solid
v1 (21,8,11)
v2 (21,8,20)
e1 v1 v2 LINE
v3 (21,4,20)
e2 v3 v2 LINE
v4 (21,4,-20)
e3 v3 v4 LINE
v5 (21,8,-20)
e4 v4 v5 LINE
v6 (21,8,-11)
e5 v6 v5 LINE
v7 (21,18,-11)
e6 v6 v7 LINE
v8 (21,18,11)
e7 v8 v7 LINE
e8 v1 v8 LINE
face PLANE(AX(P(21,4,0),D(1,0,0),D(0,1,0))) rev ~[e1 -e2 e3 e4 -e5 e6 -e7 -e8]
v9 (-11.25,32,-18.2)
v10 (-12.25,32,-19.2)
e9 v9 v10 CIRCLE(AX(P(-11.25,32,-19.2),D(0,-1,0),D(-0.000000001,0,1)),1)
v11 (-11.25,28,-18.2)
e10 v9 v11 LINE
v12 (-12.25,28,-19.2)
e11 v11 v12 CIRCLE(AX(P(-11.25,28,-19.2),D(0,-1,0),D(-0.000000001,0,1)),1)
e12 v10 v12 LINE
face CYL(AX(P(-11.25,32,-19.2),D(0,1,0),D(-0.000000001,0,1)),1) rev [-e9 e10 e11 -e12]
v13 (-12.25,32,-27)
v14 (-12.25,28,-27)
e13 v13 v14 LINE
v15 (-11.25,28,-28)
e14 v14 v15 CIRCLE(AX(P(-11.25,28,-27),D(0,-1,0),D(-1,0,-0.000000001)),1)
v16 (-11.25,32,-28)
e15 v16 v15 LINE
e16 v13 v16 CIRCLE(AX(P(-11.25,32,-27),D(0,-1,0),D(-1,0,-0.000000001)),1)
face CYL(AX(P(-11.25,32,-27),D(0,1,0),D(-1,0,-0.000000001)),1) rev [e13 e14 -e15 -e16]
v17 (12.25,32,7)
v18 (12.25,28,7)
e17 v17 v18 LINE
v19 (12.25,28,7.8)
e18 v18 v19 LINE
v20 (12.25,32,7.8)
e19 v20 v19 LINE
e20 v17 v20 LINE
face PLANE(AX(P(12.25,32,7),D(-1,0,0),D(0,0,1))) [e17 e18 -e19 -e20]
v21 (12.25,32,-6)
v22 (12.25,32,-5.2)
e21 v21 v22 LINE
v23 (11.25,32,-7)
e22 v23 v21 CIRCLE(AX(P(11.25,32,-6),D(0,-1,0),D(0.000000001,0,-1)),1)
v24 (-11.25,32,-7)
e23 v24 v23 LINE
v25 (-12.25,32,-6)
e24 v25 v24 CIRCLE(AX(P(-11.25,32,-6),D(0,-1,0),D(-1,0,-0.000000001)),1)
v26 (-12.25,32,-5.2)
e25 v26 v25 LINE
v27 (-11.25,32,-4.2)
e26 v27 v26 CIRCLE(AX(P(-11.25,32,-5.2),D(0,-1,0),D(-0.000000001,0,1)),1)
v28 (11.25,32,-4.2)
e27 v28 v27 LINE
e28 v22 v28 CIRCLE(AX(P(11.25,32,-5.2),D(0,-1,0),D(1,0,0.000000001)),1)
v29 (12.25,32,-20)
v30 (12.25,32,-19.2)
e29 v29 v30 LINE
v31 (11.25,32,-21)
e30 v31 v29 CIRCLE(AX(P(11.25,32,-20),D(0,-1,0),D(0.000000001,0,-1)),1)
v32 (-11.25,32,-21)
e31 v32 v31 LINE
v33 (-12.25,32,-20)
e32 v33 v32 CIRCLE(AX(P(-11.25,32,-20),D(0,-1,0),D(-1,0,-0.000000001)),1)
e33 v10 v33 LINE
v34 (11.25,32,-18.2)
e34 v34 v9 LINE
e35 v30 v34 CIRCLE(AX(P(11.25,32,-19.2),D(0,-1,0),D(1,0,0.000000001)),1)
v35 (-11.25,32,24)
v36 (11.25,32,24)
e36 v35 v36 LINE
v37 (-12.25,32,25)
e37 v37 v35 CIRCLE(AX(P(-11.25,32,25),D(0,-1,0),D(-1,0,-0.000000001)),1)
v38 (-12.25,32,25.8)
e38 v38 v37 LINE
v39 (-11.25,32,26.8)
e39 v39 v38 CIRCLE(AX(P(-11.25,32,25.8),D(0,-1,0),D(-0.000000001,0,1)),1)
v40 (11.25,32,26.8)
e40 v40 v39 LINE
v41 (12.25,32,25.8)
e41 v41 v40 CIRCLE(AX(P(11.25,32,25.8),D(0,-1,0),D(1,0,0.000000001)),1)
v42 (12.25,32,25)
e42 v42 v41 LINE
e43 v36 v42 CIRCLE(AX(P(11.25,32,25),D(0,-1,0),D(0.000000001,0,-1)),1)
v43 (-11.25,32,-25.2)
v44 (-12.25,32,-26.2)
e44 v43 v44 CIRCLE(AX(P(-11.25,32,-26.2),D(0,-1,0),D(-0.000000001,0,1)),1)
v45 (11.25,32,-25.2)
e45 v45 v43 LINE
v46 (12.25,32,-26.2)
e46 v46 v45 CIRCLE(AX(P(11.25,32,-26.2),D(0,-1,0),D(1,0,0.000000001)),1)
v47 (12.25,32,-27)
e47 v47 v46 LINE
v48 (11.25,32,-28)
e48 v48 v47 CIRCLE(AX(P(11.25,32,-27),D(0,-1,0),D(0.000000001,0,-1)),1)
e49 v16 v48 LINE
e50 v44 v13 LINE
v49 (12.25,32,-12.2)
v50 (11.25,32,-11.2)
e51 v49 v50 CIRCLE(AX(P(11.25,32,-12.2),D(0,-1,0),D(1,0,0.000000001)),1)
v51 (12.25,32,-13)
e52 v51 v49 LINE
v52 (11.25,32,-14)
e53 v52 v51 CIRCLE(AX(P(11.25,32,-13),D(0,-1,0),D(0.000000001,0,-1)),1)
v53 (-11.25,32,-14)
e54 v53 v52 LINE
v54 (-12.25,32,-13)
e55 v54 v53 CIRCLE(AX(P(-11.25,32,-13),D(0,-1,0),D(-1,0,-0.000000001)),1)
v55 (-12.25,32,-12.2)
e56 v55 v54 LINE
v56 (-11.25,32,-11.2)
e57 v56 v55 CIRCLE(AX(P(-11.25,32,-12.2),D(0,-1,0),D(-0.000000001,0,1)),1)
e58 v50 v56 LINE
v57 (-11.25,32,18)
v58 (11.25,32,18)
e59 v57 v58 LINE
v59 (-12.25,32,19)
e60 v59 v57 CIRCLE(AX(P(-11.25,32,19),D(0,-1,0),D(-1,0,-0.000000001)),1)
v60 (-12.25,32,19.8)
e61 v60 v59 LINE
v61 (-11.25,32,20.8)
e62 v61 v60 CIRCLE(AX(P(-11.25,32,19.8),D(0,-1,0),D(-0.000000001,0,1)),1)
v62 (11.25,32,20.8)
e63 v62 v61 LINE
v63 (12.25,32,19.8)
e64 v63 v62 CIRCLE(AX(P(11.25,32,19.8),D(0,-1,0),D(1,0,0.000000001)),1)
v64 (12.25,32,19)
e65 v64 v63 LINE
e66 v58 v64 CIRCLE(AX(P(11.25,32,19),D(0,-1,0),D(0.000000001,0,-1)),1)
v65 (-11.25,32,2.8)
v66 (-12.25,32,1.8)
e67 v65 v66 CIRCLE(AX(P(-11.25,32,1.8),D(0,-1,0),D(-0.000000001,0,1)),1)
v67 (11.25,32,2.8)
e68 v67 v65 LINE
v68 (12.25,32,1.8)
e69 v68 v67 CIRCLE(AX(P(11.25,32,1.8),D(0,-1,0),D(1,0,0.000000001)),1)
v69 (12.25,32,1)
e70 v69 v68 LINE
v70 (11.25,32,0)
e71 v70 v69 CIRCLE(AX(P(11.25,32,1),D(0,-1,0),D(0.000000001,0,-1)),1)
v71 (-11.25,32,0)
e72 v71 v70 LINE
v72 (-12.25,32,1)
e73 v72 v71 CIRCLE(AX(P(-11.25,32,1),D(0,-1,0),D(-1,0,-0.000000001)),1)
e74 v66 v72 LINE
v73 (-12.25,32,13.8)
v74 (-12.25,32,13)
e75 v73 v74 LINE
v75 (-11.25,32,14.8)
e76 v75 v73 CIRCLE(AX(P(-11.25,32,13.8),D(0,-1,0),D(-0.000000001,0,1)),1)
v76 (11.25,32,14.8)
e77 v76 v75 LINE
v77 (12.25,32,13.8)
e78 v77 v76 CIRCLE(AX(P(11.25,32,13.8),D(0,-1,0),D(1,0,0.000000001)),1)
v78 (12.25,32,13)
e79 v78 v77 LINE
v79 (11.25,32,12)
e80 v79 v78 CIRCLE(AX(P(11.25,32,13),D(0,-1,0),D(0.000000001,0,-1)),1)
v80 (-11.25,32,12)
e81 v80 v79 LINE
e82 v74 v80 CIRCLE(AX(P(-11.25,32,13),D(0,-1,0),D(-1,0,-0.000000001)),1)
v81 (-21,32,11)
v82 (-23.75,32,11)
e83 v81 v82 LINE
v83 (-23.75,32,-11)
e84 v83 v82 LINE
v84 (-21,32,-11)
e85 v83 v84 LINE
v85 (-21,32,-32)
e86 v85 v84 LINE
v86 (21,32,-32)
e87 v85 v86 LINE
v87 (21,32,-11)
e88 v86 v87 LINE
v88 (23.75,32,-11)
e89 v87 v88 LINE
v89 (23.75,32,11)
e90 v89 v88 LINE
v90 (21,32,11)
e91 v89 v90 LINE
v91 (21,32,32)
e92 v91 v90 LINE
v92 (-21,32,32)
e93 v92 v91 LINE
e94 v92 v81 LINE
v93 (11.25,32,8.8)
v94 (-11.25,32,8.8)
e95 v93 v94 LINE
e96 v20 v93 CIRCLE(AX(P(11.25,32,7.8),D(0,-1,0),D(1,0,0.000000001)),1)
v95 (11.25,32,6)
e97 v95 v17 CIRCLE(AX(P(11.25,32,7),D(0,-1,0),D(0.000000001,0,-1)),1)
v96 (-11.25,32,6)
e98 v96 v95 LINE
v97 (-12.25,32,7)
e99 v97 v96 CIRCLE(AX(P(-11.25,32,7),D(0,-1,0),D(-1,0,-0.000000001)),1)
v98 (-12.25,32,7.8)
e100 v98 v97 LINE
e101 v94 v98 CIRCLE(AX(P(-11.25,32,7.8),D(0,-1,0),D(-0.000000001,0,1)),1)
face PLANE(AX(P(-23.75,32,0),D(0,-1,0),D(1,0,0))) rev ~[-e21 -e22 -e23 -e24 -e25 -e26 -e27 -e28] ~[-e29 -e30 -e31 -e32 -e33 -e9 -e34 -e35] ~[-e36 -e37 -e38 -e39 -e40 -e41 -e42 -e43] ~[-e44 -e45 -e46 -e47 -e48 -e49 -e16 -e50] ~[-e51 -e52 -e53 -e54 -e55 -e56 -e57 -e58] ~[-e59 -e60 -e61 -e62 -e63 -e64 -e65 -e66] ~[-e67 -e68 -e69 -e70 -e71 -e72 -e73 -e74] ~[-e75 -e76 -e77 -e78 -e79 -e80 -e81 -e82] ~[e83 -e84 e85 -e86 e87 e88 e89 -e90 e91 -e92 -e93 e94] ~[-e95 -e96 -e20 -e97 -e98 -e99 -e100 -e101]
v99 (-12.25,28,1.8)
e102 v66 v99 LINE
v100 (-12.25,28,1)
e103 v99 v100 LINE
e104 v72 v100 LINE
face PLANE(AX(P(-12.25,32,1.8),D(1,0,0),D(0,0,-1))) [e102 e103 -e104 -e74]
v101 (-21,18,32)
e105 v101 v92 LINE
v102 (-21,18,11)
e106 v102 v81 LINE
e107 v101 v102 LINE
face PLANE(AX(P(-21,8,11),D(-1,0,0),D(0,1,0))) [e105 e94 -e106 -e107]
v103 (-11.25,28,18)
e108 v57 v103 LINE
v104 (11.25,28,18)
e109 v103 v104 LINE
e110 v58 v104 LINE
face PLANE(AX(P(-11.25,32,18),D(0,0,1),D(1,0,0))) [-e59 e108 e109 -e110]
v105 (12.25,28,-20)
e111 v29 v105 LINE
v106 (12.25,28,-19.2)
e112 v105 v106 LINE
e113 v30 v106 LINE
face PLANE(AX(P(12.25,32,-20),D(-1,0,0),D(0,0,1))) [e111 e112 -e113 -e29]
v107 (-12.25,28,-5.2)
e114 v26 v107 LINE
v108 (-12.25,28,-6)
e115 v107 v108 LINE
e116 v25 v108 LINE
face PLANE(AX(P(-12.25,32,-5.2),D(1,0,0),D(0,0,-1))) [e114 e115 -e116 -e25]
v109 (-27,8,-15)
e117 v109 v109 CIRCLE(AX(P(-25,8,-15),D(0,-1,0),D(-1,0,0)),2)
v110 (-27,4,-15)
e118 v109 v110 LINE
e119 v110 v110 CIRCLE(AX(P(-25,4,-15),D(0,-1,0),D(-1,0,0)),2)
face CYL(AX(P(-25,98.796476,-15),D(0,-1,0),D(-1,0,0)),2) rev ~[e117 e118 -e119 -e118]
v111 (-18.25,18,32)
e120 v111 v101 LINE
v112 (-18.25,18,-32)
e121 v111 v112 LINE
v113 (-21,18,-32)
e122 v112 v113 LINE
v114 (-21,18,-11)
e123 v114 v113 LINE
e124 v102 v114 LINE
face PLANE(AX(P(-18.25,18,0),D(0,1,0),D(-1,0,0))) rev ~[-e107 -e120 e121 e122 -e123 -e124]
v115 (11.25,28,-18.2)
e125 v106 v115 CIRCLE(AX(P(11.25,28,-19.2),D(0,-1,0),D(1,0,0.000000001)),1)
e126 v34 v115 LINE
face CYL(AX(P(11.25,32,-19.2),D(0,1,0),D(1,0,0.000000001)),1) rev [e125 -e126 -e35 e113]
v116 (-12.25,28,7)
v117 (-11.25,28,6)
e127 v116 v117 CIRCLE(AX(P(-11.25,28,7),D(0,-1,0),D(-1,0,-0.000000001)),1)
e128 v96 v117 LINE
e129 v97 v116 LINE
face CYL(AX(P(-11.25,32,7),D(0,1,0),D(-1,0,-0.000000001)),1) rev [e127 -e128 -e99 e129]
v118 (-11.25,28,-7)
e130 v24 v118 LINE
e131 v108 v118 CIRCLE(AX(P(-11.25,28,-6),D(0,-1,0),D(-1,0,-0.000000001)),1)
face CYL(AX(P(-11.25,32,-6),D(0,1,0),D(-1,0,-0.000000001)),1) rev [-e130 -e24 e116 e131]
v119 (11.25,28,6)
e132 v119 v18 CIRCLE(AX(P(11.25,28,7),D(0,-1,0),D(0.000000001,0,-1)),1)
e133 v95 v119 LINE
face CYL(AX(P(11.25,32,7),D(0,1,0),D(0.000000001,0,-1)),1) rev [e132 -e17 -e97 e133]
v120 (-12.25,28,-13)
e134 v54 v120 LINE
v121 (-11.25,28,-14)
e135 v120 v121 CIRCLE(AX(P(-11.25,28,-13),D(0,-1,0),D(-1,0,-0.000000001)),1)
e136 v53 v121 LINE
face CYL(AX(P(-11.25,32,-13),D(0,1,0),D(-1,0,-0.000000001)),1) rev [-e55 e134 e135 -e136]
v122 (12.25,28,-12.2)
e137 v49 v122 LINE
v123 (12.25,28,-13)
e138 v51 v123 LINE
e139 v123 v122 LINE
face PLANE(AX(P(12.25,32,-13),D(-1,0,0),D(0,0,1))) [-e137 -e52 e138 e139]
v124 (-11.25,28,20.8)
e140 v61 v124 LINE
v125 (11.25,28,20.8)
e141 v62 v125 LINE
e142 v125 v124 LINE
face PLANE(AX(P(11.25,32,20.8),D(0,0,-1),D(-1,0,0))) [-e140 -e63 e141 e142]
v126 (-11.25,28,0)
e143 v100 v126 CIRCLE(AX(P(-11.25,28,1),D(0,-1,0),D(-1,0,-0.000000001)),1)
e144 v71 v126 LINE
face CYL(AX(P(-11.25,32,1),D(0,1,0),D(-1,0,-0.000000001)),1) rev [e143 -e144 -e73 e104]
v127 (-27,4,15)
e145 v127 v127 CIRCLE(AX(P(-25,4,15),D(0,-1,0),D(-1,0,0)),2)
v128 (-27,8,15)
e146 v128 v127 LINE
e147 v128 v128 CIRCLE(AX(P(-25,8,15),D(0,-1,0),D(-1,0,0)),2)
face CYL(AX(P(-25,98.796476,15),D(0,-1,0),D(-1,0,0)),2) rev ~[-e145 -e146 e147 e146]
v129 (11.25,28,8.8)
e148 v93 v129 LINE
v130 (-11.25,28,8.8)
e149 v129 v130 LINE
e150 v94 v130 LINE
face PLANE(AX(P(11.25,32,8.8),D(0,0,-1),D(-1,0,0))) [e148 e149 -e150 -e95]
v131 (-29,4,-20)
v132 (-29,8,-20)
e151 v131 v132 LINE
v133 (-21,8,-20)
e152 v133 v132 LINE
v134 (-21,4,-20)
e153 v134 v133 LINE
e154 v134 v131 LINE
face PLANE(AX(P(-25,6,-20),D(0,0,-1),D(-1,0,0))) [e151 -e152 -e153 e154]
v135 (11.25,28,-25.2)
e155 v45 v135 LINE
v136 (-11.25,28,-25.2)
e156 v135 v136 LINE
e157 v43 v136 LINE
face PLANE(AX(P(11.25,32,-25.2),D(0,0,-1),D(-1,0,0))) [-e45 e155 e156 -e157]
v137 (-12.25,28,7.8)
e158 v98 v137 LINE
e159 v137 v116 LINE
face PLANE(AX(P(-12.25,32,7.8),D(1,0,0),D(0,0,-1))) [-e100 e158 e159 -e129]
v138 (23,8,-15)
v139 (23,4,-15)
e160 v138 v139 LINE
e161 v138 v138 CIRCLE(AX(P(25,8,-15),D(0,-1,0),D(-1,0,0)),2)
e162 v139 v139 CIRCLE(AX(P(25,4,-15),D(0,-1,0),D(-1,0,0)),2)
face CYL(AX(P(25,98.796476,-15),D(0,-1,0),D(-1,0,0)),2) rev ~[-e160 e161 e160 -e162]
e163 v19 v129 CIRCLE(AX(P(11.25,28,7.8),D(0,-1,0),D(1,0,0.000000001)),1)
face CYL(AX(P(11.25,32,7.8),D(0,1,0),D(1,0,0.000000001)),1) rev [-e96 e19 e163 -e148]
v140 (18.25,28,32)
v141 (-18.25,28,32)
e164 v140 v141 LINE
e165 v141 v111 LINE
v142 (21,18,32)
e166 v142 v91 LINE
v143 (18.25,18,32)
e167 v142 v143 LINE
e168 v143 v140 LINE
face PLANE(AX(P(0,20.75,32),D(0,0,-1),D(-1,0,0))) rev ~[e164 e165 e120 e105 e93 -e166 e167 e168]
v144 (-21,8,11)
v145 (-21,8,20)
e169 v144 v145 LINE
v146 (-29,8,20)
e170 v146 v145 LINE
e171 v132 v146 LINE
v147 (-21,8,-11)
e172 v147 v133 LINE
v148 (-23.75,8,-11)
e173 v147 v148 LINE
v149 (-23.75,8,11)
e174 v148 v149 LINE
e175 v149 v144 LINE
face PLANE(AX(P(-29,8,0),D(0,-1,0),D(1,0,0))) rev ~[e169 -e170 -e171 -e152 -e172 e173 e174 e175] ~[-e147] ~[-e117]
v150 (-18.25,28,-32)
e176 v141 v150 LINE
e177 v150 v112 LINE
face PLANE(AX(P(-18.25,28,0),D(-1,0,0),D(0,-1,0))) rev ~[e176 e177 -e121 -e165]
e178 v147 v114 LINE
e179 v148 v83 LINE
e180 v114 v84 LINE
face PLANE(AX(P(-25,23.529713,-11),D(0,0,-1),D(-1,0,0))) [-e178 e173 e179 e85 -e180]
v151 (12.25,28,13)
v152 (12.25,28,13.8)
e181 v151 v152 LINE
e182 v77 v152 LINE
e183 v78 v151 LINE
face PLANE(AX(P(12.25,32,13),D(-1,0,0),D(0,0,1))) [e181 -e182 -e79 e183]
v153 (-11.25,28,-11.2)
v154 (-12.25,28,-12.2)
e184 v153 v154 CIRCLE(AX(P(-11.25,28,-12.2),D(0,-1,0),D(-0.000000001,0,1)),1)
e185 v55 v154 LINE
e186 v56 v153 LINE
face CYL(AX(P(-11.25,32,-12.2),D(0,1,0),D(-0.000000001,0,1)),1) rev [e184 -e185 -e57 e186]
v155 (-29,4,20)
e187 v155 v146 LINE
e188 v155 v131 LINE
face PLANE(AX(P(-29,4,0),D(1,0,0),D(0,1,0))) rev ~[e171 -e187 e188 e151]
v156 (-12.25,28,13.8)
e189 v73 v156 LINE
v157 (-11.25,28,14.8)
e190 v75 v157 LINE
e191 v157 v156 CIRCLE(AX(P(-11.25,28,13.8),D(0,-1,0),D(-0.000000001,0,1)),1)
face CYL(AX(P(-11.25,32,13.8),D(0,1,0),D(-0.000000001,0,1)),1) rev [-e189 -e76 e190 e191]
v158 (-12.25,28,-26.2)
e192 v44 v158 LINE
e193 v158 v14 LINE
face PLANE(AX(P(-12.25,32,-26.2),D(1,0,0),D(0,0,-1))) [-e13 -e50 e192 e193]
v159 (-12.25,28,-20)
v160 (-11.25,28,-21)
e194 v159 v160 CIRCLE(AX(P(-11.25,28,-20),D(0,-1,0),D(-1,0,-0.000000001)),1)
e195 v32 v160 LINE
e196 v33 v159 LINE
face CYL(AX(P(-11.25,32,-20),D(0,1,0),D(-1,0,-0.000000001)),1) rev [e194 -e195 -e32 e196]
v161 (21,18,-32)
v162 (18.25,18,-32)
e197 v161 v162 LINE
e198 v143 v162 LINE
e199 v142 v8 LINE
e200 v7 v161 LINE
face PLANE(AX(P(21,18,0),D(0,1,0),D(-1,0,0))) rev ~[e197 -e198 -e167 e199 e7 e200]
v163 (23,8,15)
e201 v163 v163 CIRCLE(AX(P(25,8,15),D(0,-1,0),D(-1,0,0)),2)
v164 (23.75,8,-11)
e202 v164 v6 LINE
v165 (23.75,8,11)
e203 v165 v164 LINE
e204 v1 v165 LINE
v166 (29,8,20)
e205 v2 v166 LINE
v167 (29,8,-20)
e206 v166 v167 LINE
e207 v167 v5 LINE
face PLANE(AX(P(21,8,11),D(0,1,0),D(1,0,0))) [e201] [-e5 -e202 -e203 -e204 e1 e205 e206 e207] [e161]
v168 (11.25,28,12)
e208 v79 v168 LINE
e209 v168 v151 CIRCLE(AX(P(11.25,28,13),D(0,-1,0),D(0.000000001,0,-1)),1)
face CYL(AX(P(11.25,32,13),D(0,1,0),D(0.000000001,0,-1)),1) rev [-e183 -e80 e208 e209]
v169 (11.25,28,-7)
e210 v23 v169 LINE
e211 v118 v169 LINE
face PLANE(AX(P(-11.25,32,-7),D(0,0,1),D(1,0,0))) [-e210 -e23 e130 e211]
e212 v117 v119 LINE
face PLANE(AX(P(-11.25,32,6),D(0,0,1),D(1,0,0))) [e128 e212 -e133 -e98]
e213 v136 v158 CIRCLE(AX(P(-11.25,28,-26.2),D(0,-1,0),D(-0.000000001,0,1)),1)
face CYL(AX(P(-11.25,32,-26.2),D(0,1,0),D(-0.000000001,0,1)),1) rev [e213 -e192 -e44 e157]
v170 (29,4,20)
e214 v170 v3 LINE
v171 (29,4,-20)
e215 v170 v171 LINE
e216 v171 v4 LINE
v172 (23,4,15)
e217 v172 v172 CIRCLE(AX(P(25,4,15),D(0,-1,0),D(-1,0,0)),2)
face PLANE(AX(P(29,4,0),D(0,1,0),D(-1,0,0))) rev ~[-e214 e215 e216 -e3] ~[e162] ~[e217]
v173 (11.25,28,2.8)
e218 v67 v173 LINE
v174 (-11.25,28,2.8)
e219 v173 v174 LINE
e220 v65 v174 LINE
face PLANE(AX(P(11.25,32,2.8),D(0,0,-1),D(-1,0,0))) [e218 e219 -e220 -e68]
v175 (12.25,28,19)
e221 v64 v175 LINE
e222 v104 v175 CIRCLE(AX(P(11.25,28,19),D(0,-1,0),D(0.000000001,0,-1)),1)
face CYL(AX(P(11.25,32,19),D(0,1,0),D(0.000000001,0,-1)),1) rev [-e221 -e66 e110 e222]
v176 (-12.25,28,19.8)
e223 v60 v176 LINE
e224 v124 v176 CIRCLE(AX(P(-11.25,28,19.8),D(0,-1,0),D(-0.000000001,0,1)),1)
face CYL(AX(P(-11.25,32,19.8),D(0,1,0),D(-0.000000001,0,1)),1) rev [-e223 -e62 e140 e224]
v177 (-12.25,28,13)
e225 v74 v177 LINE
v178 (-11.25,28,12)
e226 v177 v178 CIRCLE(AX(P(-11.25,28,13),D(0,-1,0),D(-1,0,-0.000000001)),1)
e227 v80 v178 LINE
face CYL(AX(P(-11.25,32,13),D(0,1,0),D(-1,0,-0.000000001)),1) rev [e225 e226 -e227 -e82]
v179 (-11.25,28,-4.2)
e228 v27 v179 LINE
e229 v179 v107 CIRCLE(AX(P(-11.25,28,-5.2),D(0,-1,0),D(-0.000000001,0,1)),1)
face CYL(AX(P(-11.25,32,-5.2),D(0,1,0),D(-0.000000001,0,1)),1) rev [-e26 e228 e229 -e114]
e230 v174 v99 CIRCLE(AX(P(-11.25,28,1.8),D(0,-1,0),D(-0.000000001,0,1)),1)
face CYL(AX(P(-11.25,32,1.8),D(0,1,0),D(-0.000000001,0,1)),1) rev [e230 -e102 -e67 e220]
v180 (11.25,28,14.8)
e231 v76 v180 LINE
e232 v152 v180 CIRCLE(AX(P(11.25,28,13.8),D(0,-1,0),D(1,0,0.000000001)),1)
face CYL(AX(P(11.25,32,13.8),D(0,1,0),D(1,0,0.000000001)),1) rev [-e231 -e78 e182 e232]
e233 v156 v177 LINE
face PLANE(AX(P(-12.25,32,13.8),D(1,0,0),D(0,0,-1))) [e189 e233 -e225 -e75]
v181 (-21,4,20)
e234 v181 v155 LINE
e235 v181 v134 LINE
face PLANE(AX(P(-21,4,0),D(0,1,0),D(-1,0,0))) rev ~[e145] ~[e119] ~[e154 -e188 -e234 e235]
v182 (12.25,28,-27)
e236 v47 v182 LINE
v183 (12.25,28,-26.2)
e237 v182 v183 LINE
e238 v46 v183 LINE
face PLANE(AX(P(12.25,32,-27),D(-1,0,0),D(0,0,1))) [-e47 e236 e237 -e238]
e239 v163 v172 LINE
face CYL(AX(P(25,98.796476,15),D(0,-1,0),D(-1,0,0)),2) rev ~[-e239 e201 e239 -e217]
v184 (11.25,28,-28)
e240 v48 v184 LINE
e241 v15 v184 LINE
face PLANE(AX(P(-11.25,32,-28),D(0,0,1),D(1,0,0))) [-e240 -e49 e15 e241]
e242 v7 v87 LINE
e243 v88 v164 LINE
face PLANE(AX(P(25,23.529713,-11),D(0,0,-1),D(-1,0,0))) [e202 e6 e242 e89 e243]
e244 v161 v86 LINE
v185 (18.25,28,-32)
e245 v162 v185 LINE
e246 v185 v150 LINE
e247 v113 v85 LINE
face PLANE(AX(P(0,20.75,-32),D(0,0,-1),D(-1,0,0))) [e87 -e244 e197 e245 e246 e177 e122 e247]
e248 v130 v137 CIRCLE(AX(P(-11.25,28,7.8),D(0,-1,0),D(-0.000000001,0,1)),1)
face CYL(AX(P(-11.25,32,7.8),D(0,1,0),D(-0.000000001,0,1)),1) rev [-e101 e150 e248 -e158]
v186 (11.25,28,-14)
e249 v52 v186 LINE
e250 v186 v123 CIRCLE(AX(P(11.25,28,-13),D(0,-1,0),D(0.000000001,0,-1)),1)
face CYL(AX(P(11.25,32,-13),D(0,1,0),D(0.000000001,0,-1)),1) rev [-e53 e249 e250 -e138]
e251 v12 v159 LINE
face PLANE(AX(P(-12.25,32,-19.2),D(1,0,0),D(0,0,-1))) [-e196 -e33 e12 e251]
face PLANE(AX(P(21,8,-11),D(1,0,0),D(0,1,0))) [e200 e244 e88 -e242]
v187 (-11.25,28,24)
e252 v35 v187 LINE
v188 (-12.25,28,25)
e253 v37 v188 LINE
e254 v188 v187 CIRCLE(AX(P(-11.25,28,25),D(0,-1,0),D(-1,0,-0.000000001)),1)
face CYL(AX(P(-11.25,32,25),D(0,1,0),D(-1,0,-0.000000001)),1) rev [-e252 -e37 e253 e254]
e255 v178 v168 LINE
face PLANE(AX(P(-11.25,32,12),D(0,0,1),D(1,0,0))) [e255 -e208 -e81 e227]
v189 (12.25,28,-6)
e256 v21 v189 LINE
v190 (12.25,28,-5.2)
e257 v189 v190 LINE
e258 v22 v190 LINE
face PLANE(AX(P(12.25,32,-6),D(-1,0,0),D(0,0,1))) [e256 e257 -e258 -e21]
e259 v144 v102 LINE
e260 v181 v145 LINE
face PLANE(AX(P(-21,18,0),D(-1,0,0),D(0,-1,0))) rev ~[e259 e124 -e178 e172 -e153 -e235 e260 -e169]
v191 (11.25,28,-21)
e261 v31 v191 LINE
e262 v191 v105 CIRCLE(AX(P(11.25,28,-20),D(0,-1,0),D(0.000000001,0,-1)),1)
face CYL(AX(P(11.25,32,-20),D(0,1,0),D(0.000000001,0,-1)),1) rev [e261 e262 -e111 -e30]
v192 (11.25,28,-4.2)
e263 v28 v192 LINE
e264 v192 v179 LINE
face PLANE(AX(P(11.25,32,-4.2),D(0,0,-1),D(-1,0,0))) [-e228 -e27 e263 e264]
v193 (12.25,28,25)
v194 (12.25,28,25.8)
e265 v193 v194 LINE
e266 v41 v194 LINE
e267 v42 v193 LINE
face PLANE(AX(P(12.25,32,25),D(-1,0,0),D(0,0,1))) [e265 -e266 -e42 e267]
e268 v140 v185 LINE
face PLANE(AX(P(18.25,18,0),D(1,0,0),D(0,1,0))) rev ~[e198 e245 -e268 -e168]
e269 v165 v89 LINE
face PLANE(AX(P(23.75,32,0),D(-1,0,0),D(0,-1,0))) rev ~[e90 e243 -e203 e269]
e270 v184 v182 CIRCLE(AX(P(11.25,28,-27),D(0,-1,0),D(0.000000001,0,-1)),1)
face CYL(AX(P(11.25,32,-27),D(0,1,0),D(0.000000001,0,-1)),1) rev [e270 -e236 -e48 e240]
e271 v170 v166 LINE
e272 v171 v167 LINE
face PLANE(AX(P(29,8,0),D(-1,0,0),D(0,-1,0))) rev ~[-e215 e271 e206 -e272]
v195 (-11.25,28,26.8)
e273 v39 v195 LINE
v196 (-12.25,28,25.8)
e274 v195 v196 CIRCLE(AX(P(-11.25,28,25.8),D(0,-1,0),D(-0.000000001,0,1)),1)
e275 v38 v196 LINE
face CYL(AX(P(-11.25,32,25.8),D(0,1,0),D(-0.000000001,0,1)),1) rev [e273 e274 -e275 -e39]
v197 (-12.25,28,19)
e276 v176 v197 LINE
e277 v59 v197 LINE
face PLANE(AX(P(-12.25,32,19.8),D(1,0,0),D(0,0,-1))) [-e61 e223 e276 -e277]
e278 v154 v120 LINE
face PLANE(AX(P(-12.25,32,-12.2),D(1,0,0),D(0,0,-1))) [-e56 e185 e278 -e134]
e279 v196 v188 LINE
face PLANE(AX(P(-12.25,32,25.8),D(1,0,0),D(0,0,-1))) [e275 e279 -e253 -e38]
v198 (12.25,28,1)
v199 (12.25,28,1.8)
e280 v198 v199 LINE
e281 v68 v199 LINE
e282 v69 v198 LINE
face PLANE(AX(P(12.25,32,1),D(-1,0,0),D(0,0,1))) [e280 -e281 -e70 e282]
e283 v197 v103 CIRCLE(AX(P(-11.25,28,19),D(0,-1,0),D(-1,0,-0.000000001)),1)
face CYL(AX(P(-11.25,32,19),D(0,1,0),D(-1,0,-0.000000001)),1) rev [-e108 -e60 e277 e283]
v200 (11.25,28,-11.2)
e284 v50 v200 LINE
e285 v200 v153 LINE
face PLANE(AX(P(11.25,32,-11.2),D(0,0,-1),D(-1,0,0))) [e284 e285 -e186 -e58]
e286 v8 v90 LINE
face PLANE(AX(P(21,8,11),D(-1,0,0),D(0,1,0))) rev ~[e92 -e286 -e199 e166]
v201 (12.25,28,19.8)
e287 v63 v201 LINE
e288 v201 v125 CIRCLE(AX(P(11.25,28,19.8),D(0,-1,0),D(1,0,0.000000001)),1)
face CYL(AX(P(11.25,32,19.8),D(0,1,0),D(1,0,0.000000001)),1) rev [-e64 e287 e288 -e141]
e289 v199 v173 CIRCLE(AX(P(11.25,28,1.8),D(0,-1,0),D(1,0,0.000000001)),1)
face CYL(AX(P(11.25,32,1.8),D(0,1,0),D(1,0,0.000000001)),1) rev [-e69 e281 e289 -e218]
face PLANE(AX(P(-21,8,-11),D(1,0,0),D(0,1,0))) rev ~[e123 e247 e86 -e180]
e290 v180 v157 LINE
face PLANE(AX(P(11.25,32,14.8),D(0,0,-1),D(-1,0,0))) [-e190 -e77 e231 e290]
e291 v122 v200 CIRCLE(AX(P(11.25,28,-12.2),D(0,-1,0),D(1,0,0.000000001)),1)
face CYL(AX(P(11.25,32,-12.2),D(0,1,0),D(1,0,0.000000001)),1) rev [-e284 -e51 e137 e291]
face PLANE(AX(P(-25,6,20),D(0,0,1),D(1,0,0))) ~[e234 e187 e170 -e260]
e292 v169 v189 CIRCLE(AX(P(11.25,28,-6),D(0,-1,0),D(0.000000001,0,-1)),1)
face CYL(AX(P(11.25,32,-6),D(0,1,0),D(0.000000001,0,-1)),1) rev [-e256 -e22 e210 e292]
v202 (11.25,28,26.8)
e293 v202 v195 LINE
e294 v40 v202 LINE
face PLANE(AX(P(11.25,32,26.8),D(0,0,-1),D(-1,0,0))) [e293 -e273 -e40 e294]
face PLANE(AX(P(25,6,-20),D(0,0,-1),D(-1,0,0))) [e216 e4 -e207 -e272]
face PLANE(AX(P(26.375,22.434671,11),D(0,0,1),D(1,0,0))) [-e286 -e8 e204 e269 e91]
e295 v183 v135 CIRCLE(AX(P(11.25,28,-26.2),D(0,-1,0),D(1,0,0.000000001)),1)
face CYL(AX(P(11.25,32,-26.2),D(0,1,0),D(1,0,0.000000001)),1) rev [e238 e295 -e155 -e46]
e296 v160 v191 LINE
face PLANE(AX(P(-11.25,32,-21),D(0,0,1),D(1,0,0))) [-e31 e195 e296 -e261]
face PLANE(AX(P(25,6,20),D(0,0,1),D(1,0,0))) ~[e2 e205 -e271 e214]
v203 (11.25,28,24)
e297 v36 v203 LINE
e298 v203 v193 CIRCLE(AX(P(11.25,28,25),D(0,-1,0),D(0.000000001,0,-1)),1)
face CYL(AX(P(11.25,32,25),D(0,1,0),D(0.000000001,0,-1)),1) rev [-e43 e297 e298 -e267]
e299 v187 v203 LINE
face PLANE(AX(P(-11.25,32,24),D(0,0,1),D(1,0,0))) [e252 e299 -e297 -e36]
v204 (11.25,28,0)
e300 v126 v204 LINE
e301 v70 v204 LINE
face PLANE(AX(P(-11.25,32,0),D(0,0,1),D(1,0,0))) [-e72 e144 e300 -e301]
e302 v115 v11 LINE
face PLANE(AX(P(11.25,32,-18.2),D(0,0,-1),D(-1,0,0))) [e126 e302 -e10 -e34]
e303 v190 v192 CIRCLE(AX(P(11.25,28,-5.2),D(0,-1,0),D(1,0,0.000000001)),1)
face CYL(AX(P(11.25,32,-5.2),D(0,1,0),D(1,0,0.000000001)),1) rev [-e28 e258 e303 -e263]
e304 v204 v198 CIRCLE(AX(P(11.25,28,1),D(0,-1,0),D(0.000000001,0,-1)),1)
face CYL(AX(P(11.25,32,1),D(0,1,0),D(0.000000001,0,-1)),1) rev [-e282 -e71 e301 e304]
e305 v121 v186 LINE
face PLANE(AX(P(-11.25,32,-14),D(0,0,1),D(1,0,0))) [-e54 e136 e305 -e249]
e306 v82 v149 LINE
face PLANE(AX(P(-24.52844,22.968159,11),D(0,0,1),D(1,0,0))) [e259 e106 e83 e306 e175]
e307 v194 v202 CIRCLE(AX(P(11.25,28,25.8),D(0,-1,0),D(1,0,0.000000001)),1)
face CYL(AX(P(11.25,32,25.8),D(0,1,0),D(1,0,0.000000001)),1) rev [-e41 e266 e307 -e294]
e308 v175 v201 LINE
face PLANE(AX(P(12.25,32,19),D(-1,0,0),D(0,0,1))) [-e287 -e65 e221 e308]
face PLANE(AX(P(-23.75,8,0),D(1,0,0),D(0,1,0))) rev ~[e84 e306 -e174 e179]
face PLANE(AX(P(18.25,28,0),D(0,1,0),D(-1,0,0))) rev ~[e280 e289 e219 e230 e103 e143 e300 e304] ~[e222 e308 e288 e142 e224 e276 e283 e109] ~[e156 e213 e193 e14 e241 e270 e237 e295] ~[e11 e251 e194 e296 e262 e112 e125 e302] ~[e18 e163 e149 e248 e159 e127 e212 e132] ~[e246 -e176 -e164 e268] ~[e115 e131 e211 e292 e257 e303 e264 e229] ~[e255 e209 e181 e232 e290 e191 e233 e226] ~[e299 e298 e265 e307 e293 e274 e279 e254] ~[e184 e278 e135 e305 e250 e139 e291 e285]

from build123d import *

# Parameters (mm, degrees)
BOSS_EXTRUDE1_DEPTH      = 32
CUT_EXTRUDE5_DEPTH       = 3.999999672
LPATTERN1_COUNT          = 5
LPATTERN1_PITCH          = 7
LPATTERN2_COUNT          = 5
LPATTERN2_PITCH          = 6
SKETCH12_W               = 8
SKETCH12_H               = 4
CUT_EXTRUDE7_DEPTH       = 12
CUT_EXTRUDE8_DEPTH       = 17
CUT_EXTRUDE8_DEPTH_BACK  = 4
SKETCH11_W               = 8
SKETCH11_H               = 31.059426665
CUT_EXTRUDE10_DEPTH      = 17
CUT_EXTRUDE10_DEPTH_BACK = 4
SKETCH13_W               = 10.75
SKETCH13_H               = 28.869342983
SKETCH13_W_2             = 7.056880225
SKETCH13_H_2             = 29.936318605
F_4_0MM_DOWEL_HOLE1_D    = 4


with BuildPart() as part:
    # Sketch1 → Boss-Extrude1 (new, symmetric)
    with BuildSketch(Plane.XY):
        Polygon((-23.75, 31.999999672), (23.75, 31.999999672), (23.75, 8), (29, 8), (29, 4), (21, 4), (21, 18), (18.25, 18), (18.25, 28), (-18.25, 28), (-18.25, 18), (-21, 18), (-21, 4), (-29, 4), (-29, 8), (-23.75, 8), align=None)
    extrude(amount=BOSS_EXTRUDE1_DEPTH, both=True)

    # Sketch8 → Cut-Extrude5 (cut)
    with BuildSketch(Plane(origin=(0, 31.999999672, 0), x_dir=(1, 0, 0), z_dir=(0, 1, 0))):
        with BuildLine():
            Line((11.25, -2.8), (-11.25, -2.8))
            ThreePointArc((-11.25, -2.8), (-11.957106781, -2.507106781), (-12.25, -1.8))
            Line((-12.25, -1.8), (-12.25, -1))
            ThreePointArc((-12.25, -1), (-11.957106781, -0.292893219), (-11.25, 0))
            Line((-11.25, 0), (11.25, 0))
            ThreePointArc((11.25, 0), (11.957106781, -0.292893219), (12.25, -1))
            Line((12.25, -1), (12.25, -1.8))
            ThreePointArc((12.25, -1.8), (11.957106781, -2.507106781), (11.25, -2.8))
        make_face()
    cut_extrude5 = extrude(amount=-CUT_EXTRUDE5_DEPTH, mode=Mode.SUBTRACT)

    # LPattern1: Cut-Extrude5 ×5
    with Locations(*[(0, 0, -i * LPATTERN1_PITCH) for i in range(1, LPATTERN1_COUNT)]):
        add(cut_extrude5, mode=Mode.SUBTRACT)

    # LPattern2: Cut-Extrude5 ×5
    with Locations(*[(0, 0, i * LPATTERN2_PITCH) for i in range(1, LPATTERN2_COUNT)]):
        add(cut_extrude5, mode=Mode.SUBTRACT)

    # Sketch12 → Cut-Extrude7 (cut)
    with BuildSketch(Plane(origin=(0, 0, -32), x_dir=(-1, 0, 0), z_dir=(0, 0, -1))):
        with Locations((25, 6)):
            Rectangle(SKETCH12_W, SKETCH12_H)
        with Locations((-25, 6)):
            Rectangle(SKETCH12_W, SKETCH12_H)
    cut_extrude7 = extrude(amount=-CUT_EXTRUDE7_DEPTH, mode=Mode.SUBTRACT)

    # Mirror1: Cut-Extrude7 across plane
    add(cut_extrude7.mirror(Plane.XY), mode=Mode.SUBTRACT)

    # Sketch11 → Cut-Extrude8 (cut, two sides: drawn at the far end of the back side and taken through both)
    with BuildSketch(Plane(origin=(0, 0, -15), x_dir=(-1, 0, 0), z_dir=(0, 0, -1)).offset(-CUT_EXTRUDE8_DEPTH_BACK)):
        with Locations((25, 23.529713333)):
            Rectangle(SKETCH11_W, SKETCH11_H)
        with Locations((-25, 23.529713333)):
            Rectangle(SKETCH11_W, SKETCH11_H)
    extrude(amount=CUT_EXTRUDE8_DEPTH + CUT_EXTRUDE8_DEPTH_BACK, mode=Mode.SUBTRACT)

    # Sketch13 → Cut-Extrude10 (cut, two sides: drawn at the far end of the back side and taken through both)
    with BuildSketch(Plane.XY.offset(15).offset(-CUT_EXTRUDE10_DEPTH_BACK)):
        with Locations((26.375, 22.434671492)):
            Rectangle(SKETCH13_W, SKETCH13_H)
        with Locations((-24.528440113, 22.968159303)):
            Rectangle(SKETCH13_W_2, SKETCH13_H_2)
    extrude(amount=CUT_EXTRUDE10_DEPTH + CUT_EXTRUDE10_DEPTH_BACK, mode=Mode.SUBTRACT)

    # Ø4.0mm Dowel Hole1 (through all)
    with Locations(Plane(origin=(0, 8, 0), x_dir=(1, 0, 0), z_dir=(0, 1, 0))):
        with Locations((25, -15), (25, 15), (-25, 15), (-25, -15)):
            Hole(F_4_0MM_DOWEL_HOLE1_D / 2)


solid = part.part
